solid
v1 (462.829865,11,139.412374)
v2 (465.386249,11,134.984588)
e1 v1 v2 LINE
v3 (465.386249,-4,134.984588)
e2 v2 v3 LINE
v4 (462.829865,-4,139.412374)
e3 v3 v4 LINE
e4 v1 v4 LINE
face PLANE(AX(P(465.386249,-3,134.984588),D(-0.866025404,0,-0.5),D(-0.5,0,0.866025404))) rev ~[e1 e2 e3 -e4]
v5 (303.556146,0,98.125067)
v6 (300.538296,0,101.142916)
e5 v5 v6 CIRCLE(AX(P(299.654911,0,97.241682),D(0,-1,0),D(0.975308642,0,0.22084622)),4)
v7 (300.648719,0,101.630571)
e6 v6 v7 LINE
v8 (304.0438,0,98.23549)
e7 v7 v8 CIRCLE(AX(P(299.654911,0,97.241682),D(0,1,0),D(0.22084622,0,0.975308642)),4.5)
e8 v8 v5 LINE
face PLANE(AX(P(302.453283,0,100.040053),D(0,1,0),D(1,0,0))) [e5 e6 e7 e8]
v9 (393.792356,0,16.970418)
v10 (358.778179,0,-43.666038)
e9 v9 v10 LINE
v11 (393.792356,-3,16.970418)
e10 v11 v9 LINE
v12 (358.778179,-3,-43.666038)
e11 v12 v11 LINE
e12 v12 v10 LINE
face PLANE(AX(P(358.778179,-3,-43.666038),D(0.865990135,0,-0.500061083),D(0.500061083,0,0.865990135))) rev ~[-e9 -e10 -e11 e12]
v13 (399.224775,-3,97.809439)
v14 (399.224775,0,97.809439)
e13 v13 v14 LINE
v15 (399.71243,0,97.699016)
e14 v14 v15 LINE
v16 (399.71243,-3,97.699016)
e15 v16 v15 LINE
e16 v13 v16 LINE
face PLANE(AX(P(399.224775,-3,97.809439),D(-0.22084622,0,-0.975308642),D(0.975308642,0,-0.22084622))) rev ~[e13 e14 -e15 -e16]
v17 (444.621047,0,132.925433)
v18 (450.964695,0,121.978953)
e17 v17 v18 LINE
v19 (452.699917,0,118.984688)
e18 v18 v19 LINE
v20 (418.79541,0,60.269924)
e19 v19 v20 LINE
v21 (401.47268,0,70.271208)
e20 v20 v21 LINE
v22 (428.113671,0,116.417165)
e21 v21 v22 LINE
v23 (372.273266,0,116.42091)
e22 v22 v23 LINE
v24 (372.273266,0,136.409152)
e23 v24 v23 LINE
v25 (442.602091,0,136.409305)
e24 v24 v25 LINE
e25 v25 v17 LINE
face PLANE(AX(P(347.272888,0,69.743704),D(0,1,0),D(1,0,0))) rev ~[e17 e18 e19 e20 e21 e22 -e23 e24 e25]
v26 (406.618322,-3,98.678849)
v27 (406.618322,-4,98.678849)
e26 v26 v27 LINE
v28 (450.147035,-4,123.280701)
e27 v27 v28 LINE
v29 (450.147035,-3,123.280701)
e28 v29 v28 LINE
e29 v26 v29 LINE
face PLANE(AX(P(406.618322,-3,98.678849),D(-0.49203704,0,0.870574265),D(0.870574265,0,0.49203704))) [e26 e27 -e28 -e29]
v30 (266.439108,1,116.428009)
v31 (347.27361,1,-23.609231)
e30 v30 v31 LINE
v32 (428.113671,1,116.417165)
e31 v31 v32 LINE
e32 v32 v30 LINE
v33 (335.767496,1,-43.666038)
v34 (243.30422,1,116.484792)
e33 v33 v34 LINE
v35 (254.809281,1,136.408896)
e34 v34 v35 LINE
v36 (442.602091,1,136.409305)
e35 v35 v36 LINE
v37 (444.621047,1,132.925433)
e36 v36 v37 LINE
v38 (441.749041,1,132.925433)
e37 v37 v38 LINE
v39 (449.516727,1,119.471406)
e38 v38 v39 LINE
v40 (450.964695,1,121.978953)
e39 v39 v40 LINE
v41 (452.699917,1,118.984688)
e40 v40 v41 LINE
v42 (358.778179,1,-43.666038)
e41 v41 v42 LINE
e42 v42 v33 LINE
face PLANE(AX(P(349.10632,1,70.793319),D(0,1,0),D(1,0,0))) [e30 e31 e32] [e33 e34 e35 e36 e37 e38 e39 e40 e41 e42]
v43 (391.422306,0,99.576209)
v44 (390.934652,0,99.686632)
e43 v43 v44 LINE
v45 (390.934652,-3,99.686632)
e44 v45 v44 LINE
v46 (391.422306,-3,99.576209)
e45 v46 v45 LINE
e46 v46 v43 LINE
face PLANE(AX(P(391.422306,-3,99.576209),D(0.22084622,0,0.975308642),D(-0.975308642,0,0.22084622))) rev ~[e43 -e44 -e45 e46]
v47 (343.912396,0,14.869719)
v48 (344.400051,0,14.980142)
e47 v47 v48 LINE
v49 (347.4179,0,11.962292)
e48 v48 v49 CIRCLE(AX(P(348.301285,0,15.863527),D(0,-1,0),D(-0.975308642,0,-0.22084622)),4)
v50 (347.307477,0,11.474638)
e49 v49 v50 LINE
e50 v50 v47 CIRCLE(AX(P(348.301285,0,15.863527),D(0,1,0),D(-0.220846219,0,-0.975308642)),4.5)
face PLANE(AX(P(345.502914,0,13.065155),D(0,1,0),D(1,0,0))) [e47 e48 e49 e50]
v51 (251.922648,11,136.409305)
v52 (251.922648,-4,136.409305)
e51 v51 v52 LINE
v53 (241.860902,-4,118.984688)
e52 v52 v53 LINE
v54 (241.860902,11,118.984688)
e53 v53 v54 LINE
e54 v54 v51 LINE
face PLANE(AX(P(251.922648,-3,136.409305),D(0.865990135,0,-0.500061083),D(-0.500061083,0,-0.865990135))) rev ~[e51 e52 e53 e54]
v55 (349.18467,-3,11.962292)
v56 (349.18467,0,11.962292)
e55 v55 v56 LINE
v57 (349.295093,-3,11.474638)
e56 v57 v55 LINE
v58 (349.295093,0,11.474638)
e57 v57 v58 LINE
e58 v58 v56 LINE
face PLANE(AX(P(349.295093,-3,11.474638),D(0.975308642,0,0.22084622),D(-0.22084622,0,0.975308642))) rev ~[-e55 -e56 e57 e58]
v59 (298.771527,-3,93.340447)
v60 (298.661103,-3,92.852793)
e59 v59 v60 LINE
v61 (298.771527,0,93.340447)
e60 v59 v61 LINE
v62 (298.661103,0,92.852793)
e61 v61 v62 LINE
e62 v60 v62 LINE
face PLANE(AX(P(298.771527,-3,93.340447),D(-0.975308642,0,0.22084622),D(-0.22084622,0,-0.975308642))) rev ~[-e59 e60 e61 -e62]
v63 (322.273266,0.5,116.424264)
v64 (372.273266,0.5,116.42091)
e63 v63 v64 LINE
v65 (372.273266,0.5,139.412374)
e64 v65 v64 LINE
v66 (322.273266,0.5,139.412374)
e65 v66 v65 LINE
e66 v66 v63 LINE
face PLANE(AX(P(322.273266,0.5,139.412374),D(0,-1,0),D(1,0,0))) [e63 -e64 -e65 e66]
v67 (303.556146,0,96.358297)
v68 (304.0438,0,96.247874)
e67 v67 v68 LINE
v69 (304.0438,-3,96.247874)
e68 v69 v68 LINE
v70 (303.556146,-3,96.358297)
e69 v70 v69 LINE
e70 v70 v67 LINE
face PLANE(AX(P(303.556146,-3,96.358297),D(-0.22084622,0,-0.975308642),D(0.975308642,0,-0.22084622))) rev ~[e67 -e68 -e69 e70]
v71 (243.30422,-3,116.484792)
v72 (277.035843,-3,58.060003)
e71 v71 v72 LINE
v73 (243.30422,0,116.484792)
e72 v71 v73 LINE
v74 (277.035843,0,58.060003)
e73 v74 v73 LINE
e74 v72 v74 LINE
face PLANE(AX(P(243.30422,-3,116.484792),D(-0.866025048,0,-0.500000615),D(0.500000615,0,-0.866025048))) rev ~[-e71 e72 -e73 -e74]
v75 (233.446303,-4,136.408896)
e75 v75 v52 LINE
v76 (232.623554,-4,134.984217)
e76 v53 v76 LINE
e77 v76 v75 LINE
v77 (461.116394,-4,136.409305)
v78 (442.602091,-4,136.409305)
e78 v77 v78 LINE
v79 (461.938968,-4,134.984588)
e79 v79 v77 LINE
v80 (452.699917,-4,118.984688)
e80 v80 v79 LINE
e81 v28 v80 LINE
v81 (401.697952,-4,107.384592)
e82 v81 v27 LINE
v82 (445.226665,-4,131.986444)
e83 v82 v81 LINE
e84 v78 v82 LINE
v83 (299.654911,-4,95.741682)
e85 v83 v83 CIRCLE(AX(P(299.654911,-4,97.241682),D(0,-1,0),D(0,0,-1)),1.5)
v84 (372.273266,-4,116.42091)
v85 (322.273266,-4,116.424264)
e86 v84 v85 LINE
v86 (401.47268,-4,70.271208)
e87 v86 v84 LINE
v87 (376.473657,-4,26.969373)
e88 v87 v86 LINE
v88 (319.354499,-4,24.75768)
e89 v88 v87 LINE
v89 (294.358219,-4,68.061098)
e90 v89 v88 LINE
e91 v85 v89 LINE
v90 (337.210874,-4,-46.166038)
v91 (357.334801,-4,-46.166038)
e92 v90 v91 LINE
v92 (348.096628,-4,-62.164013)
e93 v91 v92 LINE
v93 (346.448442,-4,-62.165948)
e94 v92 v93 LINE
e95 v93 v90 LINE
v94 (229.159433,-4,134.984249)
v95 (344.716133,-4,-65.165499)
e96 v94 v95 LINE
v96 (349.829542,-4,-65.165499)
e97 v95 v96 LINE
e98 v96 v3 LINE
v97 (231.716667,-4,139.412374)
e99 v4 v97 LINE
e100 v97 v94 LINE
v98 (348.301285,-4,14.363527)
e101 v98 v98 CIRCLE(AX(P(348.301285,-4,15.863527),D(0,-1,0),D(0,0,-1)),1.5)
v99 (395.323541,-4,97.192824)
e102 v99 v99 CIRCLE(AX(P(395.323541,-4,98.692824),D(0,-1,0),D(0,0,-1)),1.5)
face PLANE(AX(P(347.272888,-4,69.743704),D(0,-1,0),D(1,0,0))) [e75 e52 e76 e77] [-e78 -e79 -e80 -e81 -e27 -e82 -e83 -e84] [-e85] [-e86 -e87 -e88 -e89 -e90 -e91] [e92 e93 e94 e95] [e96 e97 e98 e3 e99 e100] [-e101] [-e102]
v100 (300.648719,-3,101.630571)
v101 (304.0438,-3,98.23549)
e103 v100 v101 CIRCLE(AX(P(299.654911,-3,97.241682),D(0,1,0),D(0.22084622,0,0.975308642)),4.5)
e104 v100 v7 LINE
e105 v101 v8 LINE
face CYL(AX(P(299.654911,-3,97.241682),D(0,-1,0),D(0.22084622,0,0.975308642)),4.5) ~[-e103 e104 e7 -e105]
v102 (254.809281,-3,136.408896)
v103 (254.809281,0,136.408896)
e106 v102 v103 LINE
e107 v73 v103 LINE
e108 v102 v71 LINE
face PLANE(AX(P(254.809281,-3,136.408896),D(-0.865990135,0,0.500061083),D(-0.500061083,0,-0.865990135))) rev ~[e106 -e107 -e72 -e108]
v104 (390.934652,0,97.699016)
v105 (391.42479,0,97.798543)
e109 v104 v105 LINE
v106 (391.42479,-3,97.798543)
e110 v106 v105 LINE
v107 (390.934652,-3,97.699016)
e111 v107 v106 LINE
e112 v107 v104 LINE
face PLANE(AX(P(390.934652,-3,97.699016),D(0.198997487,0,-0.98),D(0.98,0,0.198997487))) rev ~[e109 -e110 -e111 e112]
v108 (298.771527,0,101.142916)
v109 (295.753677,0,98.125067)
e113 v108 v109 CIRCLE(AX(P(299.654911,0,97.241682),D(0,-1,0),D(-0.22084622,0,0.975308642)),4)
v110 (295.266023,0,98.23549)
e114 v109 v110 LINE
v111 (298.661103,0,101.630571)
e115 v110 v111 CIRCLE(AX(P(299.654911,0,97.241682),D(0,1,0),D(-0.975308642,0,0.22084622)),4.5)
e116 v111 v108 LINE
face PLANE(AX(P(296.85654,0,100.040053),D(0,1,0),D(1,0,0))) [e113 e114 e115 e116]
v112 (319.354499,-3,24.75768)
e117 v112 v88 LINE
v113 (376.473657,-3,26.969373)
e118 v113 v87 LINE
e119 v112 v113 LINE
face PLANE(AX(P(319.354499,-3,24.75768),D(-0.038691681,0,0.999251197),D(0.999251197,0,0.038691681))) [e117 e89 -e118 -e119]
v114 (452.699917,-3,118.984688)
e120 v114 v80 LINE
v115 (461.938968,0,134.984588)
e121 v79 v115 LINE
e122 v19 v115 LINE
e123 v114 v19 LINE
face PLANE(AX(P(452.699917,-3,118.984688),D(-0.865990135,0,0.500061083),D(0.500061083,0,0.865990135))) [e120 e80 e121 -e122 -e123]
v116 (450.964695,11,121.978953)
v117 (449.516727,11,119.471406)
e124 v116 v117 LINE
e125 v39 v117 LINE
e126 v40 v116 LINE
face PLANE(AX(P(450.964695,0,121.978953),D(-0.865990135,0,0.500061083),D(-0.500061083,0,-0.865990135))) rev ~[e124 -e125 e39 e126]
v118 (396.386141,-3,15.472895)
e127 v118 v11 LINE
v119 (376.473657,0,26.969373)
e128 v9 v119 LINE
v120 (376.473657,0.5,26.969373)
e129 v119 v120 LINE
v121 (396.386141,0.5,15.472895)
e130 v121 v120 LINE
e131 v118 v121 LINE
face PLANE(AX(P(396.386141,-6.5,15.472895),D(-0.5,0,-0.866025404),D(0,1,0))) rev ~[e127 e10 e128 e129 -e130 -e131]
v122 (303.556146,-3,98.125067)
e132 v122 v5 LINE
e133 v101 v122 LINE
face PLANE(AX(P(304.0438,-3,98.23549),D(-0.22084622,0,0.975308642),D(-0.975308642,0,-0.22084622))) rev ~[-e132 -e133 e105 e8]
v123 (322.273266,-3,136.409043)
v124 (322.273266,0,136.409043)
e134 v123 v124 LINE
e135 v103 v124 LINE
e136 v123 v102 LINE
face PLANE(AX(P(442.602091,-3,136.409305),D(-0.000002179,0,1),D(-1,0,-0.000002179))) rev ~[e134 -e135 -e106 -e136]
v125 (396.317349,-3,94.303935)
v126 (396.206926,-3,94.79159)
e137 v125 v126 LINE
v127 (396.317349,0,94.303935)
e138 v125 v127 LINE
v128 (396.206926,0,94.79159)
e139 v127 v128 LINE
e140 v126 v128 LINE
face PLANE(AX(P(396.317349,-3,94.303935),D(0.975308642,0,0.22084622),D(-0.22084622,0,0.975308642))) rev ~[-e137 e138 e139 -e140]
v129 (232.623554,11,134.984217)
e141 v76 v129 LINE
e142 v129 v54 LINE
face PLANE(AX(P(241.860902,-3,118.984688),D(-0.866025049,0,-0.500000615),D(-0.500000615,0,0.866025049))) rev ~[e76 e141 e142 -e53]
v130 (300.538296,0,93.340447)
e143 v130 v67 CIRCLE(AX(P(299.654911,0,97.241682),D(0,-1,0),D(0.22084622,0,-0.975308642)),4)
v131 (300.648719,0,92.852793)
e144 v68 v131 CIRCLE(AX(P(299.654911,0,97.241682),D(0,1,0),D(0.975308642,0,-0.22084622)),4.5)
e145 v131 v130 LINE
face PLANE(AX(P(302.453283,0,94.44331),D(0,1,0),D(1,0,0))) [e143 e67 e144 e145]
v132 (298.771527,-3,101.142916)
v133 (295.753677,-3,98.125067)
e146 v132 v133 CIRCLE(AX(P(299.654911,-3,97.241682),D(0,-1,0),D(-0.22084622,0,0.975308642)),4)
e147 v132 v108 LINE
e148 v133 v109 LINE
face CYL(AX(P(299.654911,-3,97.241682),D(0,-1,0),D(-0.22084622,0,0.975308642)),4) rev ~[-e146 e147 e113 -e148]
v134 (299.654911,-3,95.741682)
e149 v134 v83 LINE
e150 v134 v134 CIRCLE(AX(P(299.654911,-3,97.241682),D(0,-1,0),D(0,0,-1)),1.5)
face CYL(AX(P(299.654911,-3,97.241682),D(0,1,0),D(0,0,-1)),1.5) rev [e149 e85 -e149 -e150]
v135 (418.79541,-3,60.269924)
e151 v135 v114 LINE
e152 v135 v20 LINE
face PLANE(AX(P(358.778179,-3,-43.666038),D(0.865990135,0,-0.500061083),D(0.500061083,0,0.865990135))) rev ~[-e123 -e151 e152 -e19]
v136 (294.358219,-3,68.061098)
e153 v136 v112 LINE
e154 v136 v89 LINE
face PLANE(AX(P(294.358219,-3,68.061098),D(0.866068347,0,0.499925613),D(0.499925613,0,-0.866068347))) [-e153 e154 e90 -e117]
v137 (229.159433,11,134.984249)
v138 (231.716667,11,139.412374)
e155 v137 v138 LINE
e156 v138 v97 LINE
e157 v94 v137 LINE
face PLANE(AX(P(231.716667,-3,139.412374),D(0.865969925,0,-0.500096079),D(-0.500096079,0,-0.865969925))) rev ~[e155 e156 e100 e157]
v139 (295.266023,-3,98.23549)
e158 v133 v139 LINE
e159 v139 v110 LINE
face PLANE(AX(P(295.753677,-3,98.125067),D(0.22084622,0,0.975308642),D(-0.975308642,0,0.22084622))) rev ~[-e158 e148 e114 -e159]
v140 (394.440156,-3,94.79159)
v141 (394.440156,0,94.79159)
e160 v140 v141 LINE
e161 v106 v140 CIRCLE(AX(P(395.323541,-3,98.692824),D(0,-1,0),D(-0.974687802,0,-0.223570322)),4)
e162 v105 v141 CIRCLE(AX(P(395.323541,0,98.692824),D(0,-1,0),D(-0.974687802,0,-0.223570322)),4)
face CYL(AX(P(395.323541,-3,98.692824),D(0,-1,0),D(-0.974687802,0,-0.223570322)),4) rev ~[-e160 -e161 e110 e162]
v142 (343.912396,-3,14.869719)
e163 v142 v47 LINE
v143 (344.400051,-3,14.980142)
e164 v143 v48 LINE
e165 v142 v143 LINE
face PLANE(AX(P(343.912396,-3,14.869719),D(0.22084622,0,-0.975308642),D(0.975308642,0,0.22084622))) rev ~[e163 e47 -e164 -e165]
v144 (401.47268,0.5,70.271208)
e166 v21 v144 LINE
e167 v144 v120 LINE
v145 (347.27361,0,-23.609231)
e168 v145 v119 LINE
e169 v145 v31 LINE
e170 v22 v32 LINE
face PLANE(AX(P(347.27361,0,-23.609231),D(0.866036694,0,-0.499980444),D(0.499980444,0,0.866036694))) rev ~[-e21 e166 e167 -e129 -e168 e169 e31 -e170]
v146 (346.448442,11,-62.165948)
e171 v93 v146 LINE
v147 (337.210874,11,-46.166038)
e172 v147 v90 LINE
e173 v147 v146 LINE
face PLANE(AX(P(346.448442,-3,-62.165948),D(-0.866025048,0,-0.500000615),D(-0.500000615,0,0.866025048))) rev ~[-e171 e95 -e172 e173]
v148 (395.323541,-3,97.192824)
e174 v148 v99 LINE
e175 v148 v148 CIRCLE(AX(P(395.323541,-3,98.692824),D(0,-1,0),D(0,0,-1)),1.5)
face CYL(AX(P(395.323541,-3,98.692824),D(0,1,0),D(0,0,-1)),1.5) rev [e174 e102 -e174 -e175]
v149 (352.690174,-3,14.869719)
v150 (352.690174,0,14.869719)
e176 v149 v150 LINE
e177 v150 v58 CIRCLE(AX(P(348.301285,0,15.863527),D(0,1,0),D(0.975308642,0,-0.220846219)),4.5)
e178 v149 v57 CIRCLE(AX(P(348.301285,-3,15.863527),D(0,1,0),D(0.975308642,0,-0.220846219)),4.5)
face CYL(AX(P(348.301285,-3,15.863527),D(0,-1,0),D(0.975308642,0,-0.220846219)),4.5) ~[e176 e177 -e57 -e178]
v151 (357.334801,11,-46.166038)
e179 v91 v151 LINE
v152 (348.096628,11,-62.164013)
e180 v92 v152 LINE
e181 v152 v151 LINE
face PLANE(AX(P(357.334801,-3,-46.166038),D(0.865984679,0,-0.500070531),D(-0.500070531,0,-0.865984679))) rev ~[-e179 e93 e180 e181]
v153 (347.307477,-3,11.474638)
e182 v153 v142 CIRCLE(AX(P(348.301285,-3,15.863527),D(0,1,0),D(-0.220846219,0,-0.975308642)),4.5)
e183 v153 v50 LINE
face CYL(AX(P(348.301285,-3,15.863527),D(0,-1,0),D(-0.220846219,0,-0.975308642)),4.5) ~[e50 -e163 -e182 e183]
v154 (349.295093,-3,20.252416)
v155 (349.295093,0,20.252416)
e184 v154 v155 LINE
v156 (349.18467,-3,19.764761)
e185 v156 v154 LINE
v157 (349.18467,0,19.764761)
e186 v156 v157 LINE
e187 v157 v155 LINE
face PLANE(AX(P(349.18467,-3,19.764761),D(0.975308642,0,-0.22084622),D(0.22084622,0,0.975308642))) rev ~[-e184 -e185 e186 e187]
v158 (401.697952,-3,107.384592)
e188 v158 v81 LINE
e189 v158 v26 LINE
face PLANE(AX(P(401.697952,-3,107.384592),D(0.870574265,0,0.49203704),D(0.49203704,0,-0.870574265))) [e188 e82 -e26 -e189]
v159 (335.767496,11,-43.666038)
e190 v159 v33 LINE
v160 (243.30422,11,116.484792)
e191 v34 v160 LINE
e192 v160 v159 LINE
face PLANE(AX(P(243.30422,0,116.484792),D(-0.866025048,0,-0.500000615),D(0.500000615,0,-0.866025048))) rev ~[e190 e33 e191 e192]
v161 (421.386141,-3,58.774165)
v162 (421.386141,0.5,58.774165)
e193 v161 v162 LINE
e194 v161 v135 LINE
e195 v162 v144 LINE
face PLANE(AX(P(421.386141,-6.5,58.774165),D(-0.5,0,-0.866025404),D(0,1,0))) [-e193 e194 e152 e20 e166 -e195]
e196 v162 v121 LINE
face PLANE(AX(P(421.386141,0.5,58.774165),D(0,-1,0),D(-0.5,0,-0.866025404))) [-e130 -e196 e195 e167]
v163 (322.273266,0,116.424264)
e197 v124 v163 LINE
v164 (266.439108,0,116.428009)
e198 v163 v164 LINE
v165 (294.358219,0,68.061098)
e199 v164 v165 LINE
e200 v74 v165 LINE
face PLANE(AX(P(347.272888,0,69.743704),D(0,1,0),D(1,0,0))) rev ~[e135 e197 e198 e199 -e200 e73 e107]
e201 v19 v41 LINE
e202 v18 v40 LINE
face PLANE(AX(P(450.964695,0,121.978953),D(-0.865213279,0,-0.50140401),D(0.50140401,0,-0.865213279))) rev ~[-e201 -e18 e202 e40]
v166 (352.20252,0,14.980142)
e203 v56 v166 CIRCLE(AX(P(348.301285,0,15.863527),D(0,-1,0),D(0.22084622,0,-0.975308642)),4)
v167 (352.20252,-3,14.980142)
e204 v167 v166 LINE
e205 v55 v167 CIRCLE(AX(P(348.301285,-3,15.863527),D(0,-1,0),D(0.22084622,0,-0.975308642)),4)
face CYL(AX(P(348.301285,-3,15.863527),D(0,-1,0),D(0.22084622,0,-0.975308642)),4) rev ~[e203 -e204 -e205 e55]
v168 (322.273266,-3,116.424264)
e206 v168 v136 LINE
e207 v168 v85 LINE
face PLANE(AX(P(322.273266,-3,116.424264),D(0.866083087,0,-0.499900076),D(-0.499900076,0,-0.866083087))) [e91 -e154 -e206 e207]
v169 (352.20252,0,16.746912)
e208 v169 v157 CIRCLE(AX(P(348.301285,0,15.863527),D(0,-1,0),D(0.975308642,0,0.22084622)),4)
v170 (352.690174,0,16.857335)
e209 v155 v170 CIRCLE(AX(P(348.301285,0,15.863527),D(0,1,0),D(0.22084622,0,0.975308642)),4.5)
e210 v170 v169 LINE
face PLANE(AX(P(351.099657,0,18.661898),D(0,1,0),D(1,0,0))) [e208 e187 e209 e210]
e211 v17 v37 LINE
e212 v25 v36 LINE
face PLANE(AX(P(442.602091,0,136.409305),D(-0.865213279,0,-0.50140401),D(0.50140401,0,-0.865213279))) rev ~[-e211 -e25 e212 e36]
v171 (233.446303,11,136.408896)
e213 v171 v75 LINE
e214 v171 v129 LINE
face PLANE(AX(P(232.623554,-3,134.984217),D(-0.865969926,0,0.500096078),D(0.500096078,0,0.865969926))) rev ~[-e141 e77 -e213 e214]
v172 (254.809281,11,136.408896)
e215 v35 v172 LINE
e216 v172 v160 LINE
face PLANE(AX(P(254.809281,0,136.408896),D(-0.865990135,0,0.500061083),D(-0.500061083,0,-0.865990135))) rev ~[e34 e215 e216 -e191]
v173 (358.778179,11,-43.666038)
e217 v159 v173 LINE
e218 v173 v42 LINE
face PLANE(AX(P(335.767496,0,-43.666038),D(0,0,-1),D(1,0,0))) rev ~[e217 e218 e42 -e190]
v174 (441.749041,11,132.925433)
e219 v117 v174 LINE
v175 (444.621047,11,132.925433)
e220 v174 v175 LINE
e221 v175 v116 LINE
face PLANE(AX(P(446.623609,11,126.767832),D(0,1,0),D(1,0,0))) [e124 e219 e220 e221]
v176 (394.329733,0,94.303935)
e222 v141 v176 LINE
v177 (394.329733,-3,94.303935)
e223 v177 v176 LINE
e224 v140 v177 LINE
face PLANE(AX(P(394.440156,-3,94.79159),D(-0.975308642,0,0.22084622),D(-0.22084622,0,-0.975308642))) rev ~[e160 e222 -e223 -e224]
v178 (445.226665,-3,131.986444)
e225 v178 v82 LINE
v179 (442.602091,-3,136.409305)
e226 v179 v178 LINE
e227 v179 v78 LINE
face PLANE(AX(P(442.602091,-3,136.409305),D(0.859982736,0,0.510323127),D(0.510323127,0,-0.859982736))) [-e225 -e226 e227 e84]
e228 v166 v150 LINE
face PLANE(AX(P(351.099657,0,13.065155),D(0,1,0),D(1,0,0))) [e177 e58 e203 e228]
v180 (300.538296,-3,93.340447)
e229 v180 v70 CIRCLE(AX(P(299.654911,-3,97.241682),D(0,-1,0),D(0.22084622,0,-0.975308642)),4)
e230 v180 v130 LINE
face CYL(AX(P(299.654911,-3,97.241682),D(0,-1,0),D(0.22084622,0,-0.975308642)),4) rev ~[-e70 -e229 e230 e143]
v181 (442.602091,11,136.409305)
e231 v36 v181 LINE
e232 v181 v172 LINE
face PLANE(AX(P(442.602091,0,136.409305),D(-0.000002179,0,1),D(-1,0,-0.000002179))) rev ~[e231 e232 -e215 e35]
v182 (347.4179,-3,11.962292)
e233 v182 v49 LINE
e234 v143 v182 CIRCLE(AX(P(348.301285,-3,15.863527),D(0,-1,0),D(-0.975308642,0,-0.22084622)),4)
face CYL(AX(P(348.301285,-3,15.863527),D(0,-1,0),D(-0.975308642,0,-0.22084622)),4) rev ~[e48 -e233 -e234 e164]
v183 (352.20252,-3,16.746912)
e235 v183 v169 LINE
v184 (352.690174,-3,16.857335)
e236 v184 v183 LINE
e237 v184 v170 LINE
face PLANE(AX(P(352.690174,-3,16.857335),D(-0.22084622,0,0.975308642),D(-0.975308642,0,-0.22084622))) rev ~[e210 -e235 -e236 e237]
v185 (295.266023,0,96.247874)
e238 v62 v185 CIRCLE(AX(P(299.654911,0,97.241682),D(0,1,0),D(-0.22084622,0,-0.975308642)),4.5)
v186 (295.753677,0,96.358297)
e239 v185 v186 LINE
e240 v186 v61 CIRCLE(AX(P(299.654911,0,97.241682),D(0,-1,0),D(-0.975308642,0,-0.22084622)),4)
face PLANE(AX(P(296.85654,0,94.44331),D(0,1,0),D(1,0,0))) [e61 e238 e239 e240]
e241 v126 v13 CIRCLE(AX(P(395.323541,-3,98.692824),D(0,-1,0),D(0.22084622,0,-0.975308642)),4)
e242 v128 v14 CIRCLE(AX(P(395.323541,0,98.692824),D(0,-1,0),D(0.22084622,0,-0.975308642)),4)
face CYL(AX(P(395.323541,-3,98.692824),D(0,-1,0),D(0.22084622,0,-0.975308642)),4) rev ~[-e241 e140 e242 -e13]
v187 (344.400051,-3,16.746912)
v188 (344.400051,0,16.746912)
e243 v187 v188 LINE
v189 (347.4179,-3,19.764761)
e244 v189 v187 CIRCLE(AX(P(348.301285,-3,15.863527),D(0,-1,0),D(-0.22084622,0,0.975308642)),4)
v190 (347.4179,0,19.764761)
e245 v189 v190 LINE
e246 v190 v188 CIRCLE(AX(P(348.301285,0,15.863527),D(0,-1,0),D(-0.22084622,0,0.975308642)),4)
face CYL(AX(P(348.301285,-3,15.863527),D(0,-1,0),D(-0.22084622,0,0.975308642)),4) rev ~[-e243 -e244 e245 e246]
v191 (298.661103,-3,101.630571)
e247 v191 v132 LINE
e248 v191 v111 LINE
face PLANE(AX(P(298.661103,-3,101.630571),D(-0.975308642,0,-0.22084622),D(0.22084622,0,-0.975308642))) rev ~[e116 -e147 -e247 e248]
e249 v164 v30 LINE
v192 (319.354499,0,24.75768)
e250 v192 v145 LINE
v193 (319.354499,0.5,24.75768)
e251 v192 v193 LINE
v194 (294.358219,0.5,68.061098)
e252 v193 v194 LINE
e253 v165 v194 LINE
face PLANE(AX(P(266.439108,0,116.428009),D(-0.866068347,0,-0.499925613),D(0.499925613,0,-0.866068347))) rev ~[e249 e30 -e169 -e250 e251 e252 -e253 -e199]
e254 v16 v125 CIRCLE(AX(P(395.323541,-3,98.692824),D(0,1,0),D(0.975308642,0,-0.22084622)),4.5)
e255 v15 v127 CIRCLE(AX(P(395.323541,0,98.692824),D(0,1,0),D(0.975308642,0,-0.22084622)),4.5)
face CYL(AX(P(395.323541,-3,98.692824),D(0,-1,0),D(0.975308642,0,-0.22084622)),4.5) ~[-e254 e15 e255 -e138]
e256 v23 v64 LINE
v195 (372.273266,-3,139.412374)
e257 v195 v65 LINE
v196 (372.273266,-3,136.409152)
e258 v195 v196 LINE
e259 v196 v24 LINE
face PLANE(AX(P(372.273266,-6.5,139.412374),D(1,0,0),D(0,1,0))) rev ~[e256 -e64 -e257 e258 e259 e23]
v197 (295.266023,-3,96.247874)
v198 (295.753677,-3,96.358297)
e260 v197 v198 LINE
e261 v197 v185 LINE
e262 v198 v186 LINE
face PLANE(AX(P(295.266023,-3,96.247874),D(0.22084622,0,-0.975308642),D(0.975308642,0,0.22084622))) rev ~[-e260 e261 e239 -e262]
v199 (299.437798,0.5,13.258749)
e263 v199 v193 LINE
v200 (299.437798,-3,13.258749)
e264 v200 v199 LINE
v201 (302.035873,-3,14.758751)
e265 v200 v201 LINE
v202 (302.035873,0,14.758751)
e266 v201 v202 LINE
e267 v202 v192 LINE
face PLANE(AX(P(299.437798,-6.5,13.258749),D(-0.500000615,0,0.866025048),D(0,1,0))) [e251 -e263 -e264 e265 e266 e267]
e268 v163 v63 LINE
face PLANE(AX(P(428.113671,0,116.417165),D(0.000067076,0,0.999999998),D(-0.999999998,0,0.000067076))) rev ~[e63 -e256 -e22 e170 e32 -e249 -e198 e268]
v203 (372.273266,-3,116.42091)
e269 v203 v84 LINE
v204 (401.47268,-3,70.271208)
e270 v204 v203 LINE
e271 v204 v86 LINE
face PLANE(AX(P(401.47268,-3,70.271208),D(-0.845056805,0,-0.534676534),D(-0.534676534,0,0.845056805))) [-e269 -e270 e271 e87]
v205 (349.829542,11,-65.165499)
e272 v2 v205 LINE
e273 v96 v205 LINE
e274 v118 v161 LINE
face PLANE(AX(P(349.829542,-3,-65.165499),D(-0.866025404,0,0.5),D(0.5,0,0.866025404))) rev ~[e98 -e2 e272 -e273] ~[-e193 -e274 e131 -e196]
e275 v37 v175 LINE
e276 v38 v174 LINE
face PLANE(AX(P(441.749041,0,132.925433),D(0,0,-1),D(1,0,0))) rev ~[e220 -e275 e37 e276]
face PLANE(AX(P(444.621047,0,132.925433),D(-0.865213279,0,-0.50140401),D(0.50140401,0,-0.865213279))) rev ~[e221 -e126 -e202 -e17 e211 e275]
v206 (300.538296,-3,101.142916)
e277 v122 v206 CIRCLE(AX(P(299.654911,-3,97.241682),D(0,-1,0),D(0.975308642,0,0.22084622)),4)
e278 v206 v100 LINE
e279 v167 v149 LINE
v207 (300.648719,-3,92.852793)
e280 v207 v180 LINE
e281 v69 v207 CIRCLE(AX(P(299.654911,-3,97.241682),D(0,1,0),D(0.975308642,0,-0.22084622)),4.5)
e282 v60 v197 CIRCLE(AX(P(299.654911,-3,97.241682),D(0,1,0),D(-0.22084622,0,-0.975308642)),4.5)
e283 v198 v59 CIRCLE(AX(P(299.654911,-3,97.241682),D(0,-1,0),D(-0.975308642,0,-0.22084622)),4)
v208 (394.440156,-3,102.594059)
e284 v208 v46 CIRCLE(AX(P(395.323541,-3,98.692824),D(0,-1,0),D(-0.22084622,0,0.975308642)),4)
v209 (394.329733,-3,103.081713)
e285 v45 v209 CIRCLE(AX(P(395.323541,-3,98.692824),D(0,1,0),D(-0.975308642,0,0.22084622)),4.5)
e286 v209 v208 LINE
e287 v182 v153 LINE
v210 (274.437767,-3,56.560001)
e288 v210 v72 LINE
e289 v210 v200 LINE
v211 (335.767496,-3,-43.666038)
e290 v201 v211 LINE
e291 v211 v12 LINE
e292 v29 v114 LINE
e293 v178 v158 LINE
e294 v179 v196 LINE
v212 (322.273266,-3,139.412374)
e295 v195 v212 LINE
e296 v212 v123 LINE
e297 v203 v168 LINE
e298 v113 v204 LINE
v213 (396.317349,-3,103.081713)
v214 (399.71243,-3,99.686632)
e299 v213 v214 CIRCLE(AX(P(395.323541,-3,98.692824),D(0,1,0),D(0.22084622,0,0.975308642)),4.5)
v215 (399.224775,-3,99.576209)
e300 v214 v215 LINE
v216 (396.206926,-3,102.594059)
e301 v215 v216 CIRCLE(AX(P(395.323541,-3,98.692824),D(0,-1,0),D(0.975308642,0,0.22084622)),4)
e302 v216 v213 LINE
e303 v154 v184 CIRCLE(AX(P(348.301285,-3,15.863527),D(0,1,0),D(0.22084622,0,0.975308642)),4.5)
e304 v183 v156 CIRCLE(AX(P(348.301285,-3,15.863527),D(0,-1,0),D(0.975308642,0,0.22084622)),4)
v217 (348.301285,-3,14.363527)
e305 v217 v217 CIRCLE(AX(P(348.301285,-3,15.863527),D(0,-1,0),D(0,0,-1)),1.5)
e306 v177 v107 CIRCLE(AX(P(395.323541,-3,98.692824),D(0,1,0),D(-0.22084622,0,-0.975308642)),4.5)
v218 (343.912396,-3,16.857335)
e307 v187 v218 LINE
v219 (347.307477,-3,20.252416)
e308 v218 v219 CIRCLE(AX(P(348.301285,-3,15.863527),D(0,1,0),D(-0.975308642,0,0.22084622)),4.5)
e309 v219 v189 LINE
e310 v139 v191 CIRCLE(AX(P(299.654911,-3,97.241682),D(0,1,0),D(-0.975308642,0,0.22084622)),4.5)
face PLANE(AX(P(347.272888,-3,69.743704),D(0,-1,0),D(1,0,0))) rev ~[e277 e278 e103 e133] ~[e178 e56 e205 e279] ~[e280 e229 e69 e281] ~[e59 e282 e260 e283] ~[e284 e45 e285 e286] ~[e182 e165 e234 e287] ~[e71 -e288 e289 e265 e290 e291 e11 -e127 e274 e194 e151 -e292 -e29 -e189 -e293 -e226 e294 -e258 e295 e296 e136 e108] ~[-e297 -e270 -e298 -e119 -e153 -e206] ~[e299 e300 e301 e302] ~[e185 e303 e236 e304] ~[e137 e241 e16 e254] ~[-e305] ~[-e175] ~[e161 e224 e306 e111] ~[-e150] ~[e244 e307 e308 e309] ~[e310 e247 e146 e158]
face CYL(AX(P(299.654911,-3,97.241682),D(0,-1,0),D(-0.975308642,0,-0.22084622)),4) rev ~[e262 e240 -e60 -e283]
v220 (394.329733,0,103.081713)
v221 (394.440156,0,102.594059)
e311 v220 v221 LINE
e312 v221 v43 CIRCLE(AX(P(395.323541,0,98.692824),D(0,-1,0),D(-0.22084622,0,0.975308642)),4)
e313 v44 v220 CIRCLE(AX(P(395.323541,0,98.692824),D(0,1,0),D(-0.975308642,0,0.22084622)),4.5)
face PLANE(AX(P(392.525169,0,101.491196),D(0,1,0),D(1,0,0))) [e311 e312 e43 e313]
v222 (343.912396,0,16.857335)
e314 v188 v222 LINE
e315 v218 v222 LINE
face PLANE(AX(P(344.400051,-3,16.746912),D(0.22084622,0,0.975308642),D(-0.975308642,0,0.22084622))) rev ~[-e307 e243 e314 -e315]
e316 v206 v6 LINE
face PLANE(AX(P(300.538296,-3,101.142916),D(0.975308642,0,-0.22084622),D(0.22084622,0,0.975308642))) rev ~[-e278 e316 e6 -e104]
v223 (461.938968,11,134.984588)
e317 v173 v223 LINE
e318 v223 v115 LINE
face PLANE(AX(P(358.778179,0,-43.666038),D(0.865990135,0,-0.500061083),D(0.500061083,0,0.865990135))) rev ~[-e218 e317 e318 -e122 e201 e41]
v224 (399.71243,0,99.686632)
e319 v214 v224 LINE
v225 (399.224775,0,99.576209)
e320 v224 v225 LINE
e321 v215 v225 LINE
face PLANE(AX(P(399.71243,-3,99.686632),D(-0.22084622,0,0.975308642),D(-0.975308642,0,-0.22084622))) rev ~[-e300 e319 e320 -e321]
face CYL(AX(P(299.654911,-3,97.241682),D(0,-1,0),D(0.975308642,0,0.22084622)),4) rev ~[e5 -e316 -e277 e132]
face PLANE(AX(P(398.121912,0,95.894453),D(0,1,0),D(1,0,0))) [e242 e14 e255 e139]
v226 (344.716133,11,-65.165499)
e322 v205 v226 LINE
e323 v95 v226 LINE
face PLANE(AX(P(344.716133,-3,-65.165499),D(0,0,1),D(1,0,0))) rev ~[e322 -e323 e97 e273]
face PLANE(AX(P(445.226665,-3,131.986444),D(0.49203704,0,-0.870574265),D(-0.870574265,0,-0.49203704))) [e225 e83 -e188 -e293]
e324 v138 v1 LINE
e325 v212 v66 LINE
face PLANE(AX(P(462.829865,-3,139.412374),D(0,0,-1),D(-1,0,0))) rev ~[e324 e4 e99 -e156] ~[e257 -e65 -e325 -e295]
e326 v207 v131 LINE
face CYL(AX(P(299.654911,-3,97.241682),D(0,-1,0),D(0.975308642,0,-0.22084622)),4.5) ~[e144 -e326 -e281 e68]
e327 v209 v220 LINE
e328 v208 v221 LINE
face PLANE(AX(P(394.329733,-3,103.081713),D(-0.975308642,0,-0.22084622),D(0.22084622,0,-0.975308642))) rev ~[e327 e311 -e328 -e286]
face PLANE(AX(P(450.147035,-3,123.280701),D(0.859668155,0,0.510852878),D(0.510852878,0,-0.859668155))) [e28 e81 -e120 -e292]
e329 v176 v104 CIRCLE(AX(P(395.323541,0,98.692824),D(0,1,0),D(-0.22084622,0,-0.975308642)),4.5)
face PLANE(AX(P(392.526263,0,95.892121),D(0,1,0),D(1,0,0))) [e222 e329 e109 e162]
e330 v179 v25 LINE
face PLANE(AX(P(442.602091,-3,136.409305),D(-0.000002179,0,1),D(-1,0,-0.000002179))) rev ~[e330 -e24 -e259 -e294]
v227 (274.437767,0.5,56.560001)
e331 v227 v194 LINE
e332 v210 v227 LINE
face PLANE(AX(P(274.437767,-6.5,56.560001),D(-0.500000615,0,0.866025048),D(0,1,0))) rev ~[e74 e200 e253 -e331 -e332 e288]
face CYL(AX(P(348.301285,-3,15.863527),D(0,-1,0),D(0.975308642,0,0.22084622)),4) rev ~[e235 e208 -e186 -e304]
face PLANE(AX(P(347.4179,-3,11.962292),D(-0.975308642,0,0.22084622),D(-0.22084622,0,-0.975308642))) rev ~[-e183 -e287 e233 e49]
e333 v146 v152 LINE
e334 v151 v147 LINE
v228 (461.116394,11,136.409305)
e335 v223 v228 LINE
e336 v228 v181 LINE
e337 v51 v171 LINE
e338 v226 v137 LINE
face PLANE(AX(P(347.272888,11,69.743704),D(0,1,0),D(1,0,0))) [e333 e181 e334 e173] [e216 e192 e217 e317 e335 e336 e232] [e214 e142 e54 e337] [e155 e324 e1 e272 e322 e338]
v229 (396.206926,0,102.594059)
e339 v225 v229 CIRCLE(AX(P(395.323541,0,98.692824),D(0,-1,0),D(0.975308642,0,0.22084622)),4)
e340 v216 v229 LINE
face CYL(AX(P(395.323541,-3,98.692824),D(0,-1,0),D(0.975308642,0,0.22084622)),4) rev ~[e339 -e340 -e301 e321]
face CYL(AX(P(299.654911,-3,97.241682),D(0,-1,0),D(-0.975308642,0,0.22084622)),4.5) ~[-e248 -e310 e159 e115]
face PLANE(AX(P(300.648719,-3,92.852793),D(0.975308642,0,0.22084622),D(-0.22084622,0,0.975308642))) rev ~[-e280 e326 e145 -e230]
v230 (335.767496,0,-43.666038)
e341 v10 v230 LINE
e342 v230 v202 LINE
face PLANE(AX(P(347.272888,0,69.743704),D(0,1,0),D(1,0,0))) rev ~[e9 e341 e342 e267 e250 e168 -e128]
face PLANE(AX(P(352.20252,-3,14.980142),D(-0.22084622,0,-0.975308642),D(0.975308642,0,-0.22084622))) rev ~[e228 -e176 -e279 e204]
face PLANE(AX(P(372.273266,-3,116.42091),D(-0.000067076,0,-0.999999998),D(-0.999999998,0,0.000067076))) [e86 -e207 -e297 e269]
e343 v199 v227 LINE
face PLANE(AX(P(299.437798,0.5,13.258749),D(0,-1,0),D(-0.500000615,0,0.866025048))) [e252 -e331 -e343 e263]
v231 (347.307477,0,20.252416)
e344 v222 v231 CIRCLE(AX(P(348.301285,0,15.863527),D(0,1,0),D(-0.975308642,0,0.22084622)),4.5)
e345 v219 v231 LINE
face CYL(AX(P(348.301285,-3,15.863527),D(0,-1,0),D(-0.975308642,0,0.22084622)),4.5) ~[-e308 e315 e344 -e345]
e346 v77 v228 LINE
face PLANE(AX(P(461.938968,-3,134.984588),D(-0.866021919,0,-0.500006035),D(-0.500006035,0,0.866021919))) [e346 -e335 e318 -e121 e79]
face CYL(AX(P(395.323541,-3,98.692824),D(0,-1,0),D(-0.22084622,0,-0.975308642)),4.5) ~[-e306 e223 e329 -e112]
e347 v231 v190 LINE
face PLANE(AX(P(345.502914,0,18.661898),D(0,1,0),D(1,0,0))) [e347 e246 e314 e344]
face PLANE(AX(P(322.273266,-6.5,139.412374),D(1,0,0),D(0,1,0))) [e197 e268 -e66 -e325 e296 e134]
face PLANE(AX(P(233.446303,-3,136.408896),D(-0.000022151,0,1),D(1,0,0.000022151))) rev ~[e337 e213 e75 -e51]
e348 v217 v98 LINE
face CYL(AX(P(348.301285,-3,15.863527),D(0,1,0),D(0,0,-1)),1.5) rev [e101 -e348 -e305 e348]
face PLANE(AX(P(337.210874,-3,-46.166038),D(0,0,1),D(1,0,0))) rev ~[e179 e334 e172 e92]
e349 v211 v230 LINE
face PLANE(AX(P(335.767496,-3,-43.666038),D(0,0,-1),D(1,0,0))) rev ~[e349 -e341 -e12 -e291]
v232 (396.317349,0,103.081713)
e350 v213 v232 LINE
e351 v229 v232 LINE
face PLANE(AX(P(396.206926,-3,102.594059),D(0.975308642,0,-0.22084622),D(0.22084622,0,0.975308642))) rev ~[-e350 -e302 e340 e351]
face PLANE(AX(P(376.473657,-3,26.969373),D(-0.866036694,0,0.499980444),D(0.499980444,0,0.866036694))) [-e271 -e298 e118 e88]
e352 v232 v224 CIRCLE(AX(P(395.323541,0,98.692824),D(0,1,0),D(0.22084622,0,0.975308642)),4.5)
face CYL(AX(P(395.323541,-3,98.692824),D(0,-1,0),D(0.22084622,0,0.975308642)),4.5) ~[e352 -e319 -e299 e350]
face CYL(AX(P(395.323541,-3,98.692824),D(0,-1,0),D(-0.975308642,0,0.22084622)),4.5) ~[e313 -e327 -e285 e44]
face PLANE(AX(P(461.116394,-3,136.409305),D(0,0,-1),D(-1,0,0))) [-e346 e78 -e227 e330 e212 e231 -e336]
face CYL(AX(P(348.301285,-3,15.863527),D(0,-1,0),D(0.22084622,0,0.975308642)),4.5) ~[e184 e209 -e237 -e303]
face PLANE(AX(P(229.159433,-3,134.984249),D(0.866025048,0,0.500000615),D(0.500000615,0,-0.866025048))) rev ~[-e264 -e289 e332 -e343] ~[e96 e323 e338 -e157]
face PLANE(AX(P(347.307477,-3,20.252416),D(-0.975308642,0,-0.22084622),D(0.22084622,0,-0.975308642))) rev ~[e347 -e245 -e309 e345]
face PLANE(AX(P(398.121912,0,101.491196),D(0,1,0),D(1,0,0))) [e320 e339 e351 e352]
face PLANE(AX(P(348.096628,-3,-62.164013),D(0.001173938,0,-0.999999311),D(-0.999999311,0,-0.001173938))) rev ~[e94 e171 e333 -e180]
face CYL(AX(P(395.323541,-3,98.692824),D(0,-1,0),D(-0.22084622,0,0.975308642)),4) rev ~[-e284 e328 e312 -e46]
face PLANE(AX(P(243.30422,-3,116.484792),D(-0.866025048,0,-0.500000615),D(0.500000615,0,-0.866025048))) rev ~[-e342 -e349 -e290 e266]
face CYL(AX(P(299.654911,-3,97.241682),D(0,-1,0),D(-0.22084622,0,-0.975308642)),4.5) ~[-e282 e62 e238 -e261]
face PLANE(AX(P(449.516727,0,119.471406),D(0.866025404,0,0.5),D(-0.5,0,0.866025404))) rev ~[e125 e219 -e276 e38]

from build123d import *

# Parameters (mm, degrees)
BOSS_EXTRUDE1_DEPTH      = 1
BOSS_EXTRUDE2_DEPTH      = 11
BOSS_EXTRUDE3_DEPTH      = 5
BOSS_EXTRUDE3_DEPTH_BACK = 3
SKETCH3_W                = 50
SKETCH3_H                = 7
CUT_EXTRUDE3_DEPTH       = 25
SKETCH5_W                = 50
SKETCH5_H                = 7
CUT_EXTRUDE4_DEPTH       = 25
SKETCH6_W                = 50
SKETCH6_H                = 7
CUT_EXTRUDE5_DEPTH       = 25
SKETCH8_R                = 1.5
BOSS_EXTRUDE5_DEPTH      = 1
BOSS_EXTRUDE10_DEPTH     = 3


with BuildPart() as part:
    # Sketch1 → Boss-Extrude1 (new body)
    with BuildSketch(Plane(origin=(0, 0, 0), x_dir=(1, 0, 0), z_dir=(0, 1, 0))):
        Polygon((243.304219773, -116.484791866), (254.809280576, -136.408896139), (442.602090749, -136.409305398), (444.621046679, -132.925433223), (441.749040748, -132.925433223), (449.516726723, -119.471406457), (450.964695297, -121.978953122), (452.699916621, -118.984688017), (358.778179035, 43.666038066), (335.767496284, 43.666038066), align=None)
        Polygon((428.113670919, -116.417164681), (266.439108268, -116.428009241), (347.273609729, 23.609230825), align=None, mode=Mode.SUBTRACT)
    extrude(amount=BOSS_EXTRUDE1_DEPTH)

    # Sketch1<9> → Boss-Extrude2 (add)
    # profile 1 of 2: a face of its own
    with BuildSketch(Plane(origin=(0, 0, 0), x_dir=(1, 0, 0), z_dir=(0, 1, 0))):
        Polygon((229.159432547, -134.984249184), (231.716666588, -139.412373829), (462.829865412, -139.412373829), (465.38624875, -134.984588004), (349.829542096, 65.165499075), (344.716133219, 65.165499075), align=None)
        Polygon((251.922647988, -136.4093054), (233.446303399, -136.408896139), (232.623553959, -134.984217358), (241.860901688, -118.984688019), align=None, mode=Mode.SUBTRACT)
        Polygon((442.602090749, -136.409305398), (254.809280576, -136.408896139), (243.304219773, -116.484791866), (335.767496284, 43.666038066), (358.778179035, 43.666038066), (461.938967957, -134.984588004), (461.116393748, -136.409305398), align=None, mode=Mode.SUBTRACT)
        Polygon((348.096628302, 62.164013367), (357.334800991, 46.166038067), (337.210874326, 46.166038067), (346.44844193, 62.165948237), align=None, mode=Mode.SUBTRACT)
    # profile 2 of 2: a face of its own
    with BuildSketch(Plane(origin=(0, 0, 0), x_dir=(1, 0, 0), z_dir=(0, 1, 0))):
        Polygon((441.749040748, -132.925433223), (444.621046679, -132.925433223), (450.964695297, -121.978953122), (449.516726723, -119.471406457), align=None)
    extrude(amount=BOSS_EXTRUDE2_DEPTH)

    # Sketch1<10> → Boss-Extrude3 (add, two sides: drawn at the far end of the back side and taken through both)
    with BuildSketch(Plane(origin=(0, 0, 0), x_dir=(1, 0, 0), z_dir=(0, 1, 0)).offset(-BOSS_EXTRUDE3_DEPTH_BACK)):
        Polygon((229.159432547, -134.984249184), (231.716666588, -139.412373829), (462.829865412, -139.412373829), (465.38624875, -134.984588004), (349.829542096, 65.165499075), (344.716133219, 65.165499075), align=None)
        Polygon((251.922647988, -136.4093054), (233.446303399, -136.408896139), (232.623553959, -134.984217358), (241.860901688, -118.984688019), align=None, mode=Mode.SUBTRACT)
        Polygon((442.602090749, -136.409305398), (254.809280576, -136.408896139), (243.304219773, -116.484791866), (335.767496284, 43.666038066), (358.778179035, 43.666038066), (452.699916621, -118.984688017), (461.938967957, -134.984588004), (461.116393748, -136.409305398), align=None, mode=Mode.SUBTRACT)
        Polygon((348.096628302, 62.164013367), (357.334800991, 46.166038067), (337.210874326, 46.166038067), (346.44844193, 62.165948237), align=None, mode=Mode.SUBTRACT)
    extrude(amount=BOSS_EXTRUDE3_DEPTH + BOSS_EXTRUDE3_DEPTH_BACK)

    # Sketch3 → Cut-Extrude3 (cut)
    with BuildSketch(Plane(origin=(290.589645397, 0, -167.772009994), x_dir=(-0.49999999999998745, 0, -0.8660254037844459), z_dir=(0.8660254037844459, 0, -0.49999999999998745))):
        with Locations((-236.592990632, -3)):
            Rectangle(SKETCH3_W, SKETCH3_H)
    extrude(amount=-CUT_EXTRUDE3_DEPTH, mode=Mode.SUBTRACT)

    # Sketch5 → Cut-Extrude4 (cut)
    with BuildSketch(Plane.XY.offset(139.412373829)):
        with Locations((347.273266, -3)):
            Rectangle(SKETCH5_W, SKETCH5_H)
    extrude(amount=-CUT_EXTRUDE4_DEPTH, mode=Mode.SUBTRACT)

    # Sketch6 → Cut-Extrude5 (cut)
    with BuildSketch(Plane(origin=(230.319375797, 0, 132.975171838), x_dir=(-0.5000006154012504, 0, 0.8660250484820695), z_dir=(-0.8660250484820695, 0, -0.5000006154012504))):
        with Locations((-113.2366748, -3)):
            Rectangle(SKETCH6_W, SKETCH6_H)
    extrude(amount=-CUT_EXTRUDE5_DEPTH, mode=Mode.SUBTRACT)

    # Sketch8 → Boss-Extrude5 (add)
    with BuildSketch(Plane.XZ.offset(3)):
        Polygon((349.829542096, -65.165499075), (465.38624875, 134.984588004), (462.829865412, 139.412373829), (231.716666588, 139.412373829), (229.159432547, 134.984249184), (344.716133219, -65.165499075), align=None)
        with Locations((395.323540807, 98.692824234)):
            Circle(SKETCH8_R, mode=Mode.SUBTRACT)
        with Locations((348.301285092, 15.863526629)):
            Circle(SKETCH8_R, mode=Mode.SUBTRACT)
        with Locations((299.654911442, 97.241681781)):
            Circle(SKETCH8_R, mode=Mode.SUBTRACT)
        Polygon((450.14703547, 123.280701064), (452.699916621, 118.984688017), (461.938967957, 134.984588004), (461.116393748, 136.409305398), (442.602090749, 136.409305398), (445.226665069, 131.986443715), (401.697951811, 107.384591709), (406.618322212, 98.678849058), align=None, mode=Mode.SUBTRACT)
        Polygon((322.273266, 116.424264082), (294.358218631, 68.061097964), (319.354499366, 24.757680453), (376.473657317, 26.969372805), (401.47267951, 70.271207531), (372.273266, 116.420910258), align=None, mode=Mode.SUBTRACT)
        Polygon((233.446303399, 136.408896139), (251.922647988, 136.4093054), (241.860901688, 118.984688019), (232.623553959, 134.984217358), align=None, mode=Mode.SUBTRACT)
        Polygon((337.210874326, -46.166038067), (357.334800991, -46.166038067), (348.096628302, -62.164013367), (346.44844193, -62.165948237), align=None, mode=Mode.SUBTRACT)
    extrude(amount=BOSS_EXTRUDE5_DEPTH)

    # Sketch12 → Boss-Extrude10 (add)
    with BuildSketch(Plane(origin=(0, -3, 0), x_dir=(1, 0, 0), z_dir=(0, 1, 0))):
        with BuildLine():
            ThreePointArc((352.69017398, -14.869718639), (351.483265607, -12.681546113), (349.295093082, -11.47463774))
            Line((349.295093082, -11.47463774), (349.184669972, -11.962292061))
            ThreePointArc((349.184669972, -11.962292061), (351.129712216, -13.035099504), (352.202519659, -14.980141749))
            Line((352.202519659, -14.980141749), (352.69017398, -14.869718639))
        make_face()
        with BuildLine():
            Line((347.417900212, -11.962292061), (347.307477102, -11.47463774))
            ThreePointArc((347.307477102, -11.47463774), (345.119304576, -12.681546113), (343.912396203, -14.869718639))
            Line((343.912396203, -14.869718639), (344.400050524, -14.980141749))
            ThreePointArc((344.400050524, -14.980141749), (345.472857967, -13.035099504), (347.417900212, -11.962292061))
        make_face()
        with BuildLine():
            ThreePointArc((349.295093082, -20.252415518), (351.483265607, -19.045507144), (352.69017398, -16.857334619))
            Line((352.69017398, -16.857334619), (352.202519659, -16.746911509))
            ThreePointArc((352.202519659, -16.746911509), (351.129712216, -18.691953754), (349.184669972, -19.764761197))
            Line((349.184669972, -19.764761197), (349.295093082, -20.252415518))
        make_face()
        with BuildLine():
            Line((344.400050524, -16.746911509), (343.912396203, -16.857334619))
            ThreePointArc((343.912396203, -16.857334619), (345.119304576, -19.045507144), (347.307477102, -20.252415518))
            Line((347.307477102, -20.252415518), (347.417900212, -19.764761197))
            ThreePointArc((347.417900212, -19.764761197), (345.472857967, -18.691953754), (344.400050524, -16.746911509))
        make_face()
        with BuildLine():
            Line((394.440155927, -94.791589666), (394.329732817, -94.303935345))
            ThreePointArc((394.329732817, -94.303935345), (392.141560292, -95.510843719), (390.934651919, -97.699016244))
            Line((390.934651919, -97.699016244), (391.4247896, -97.798542945))
            ThreePointArc((391.4247896, -97.798542945), (392.499067689, -95.860448622), (394.440155927, -94.791589666))
        make_face()
        with BuildLine():
            ThreePointArc((399.712429696, -97.699016244), (398.505521323, -95.510843719), (396.317348797, -94.303935345))
            Line((396.317348797, -94.303935345), (396.206925687, -94.791589666))
            ThreePointArc((396.206925687, -94.791589666), (398.151967932, -95.864397109), (399.224775375, -97.809439354))
            Line((399.224775375, -97.809439354), (399.712429696, -97.699016244))
        make_face()
        with BuildLine():
            Line((391.422306239, -99.576209114), (390.934651919, -99.686632224))
            ThreePointArc((390.934651919, -99.686632224), (392.141560292, -101.874804749), (394.329732817, -103.081713123))
            Line((394.329732817, -103.081713123), (394.440155927, -102.594058802))
            ThreePointArc((394.440155927, -102.594058802), (392.495113683, -101.521251359), (391.422306239, -99.576209114))
        make_face()
        with BuildLine():
            ThreePointArc((396.317348797, -103.081713123), (398.505521323, -101.874804749), (399.712429696, -99.686632224))
            Line((399.712429696, -99.686632224), (399.224775375, -99.576209114))
            ThreePointArc((399.224775375, -99.576209114), (398.151967932, -101.521251359), (396.206925687, -102.594058802))
            Line((396.206925687, -102.594058802), (396.317348797, -103.081713123))
        make_face()
        with BuildLine():
            ThreePointArc((298.661103452, -92.852792892), (296.472930927, -94.059701266), (295.266022553, -96.247873791))
            Line((295.266022553, -96.247873791), (295.753676874, -96.358296901))
            ThreePointArc((295.753676874, -96.358296901), (296.826484317, -94.413254657), (298.771526562, -93.340447213))
            Line((298.771526562, -93.340447213), (298.661103452, -92.852792892))
        make_face()
        with BuildLine():
            Line((295.753676874, -98.125066661), (295.266022553, -98.235489771))
            ThreePointArc((295.266022553, -98.235489771), (296.472930927, -100.423662297), (298.661103452, -101.63057067))
            Line((298.661103452, -101.63057067), (298.771526562, -101.142916349))
            ThreePointArc((298.771526562, -101.142916349), (296.826484317, -100.070108906), (295.753676874, -98.125066661))
        make_face()
        with BuildLine():
            ThreePointArc((304.043800331, -96.247873791), (302.836891957, -94.059701266), (300.648719432, -92.852792892))
            Line((300.648719432, -92.852792892), (300.538296322, -93.340447213))
            ThreePointArc((300.538296322, -93.340447213), (302.483338567, -94.413254657), (303.55614601, -96.358296901))
            Line((303.55614601, -96.358296901), (304.043800331, -96.247873791))
        make_face()
        with BuildLine():
            Line((300.538296322, -101.142916349), (300.648719432, -101.63057067))
            ThreePointArc((300.648719432, -101.63057067), (302.836891957, -100.423662297), (304.043800331, -98.235489771))
            Line((304.043800331, -98.235489771), (303.55614601, -98.125066661))
            ThreePointArc((303.55614601, -98.125066661), (302.483338567, -100.070108906), (300.538296322, -101.142916349))
        make_face()
    extrude(amount=BOSS_EXTRUDE10_DEPTH)


solid = part.part
